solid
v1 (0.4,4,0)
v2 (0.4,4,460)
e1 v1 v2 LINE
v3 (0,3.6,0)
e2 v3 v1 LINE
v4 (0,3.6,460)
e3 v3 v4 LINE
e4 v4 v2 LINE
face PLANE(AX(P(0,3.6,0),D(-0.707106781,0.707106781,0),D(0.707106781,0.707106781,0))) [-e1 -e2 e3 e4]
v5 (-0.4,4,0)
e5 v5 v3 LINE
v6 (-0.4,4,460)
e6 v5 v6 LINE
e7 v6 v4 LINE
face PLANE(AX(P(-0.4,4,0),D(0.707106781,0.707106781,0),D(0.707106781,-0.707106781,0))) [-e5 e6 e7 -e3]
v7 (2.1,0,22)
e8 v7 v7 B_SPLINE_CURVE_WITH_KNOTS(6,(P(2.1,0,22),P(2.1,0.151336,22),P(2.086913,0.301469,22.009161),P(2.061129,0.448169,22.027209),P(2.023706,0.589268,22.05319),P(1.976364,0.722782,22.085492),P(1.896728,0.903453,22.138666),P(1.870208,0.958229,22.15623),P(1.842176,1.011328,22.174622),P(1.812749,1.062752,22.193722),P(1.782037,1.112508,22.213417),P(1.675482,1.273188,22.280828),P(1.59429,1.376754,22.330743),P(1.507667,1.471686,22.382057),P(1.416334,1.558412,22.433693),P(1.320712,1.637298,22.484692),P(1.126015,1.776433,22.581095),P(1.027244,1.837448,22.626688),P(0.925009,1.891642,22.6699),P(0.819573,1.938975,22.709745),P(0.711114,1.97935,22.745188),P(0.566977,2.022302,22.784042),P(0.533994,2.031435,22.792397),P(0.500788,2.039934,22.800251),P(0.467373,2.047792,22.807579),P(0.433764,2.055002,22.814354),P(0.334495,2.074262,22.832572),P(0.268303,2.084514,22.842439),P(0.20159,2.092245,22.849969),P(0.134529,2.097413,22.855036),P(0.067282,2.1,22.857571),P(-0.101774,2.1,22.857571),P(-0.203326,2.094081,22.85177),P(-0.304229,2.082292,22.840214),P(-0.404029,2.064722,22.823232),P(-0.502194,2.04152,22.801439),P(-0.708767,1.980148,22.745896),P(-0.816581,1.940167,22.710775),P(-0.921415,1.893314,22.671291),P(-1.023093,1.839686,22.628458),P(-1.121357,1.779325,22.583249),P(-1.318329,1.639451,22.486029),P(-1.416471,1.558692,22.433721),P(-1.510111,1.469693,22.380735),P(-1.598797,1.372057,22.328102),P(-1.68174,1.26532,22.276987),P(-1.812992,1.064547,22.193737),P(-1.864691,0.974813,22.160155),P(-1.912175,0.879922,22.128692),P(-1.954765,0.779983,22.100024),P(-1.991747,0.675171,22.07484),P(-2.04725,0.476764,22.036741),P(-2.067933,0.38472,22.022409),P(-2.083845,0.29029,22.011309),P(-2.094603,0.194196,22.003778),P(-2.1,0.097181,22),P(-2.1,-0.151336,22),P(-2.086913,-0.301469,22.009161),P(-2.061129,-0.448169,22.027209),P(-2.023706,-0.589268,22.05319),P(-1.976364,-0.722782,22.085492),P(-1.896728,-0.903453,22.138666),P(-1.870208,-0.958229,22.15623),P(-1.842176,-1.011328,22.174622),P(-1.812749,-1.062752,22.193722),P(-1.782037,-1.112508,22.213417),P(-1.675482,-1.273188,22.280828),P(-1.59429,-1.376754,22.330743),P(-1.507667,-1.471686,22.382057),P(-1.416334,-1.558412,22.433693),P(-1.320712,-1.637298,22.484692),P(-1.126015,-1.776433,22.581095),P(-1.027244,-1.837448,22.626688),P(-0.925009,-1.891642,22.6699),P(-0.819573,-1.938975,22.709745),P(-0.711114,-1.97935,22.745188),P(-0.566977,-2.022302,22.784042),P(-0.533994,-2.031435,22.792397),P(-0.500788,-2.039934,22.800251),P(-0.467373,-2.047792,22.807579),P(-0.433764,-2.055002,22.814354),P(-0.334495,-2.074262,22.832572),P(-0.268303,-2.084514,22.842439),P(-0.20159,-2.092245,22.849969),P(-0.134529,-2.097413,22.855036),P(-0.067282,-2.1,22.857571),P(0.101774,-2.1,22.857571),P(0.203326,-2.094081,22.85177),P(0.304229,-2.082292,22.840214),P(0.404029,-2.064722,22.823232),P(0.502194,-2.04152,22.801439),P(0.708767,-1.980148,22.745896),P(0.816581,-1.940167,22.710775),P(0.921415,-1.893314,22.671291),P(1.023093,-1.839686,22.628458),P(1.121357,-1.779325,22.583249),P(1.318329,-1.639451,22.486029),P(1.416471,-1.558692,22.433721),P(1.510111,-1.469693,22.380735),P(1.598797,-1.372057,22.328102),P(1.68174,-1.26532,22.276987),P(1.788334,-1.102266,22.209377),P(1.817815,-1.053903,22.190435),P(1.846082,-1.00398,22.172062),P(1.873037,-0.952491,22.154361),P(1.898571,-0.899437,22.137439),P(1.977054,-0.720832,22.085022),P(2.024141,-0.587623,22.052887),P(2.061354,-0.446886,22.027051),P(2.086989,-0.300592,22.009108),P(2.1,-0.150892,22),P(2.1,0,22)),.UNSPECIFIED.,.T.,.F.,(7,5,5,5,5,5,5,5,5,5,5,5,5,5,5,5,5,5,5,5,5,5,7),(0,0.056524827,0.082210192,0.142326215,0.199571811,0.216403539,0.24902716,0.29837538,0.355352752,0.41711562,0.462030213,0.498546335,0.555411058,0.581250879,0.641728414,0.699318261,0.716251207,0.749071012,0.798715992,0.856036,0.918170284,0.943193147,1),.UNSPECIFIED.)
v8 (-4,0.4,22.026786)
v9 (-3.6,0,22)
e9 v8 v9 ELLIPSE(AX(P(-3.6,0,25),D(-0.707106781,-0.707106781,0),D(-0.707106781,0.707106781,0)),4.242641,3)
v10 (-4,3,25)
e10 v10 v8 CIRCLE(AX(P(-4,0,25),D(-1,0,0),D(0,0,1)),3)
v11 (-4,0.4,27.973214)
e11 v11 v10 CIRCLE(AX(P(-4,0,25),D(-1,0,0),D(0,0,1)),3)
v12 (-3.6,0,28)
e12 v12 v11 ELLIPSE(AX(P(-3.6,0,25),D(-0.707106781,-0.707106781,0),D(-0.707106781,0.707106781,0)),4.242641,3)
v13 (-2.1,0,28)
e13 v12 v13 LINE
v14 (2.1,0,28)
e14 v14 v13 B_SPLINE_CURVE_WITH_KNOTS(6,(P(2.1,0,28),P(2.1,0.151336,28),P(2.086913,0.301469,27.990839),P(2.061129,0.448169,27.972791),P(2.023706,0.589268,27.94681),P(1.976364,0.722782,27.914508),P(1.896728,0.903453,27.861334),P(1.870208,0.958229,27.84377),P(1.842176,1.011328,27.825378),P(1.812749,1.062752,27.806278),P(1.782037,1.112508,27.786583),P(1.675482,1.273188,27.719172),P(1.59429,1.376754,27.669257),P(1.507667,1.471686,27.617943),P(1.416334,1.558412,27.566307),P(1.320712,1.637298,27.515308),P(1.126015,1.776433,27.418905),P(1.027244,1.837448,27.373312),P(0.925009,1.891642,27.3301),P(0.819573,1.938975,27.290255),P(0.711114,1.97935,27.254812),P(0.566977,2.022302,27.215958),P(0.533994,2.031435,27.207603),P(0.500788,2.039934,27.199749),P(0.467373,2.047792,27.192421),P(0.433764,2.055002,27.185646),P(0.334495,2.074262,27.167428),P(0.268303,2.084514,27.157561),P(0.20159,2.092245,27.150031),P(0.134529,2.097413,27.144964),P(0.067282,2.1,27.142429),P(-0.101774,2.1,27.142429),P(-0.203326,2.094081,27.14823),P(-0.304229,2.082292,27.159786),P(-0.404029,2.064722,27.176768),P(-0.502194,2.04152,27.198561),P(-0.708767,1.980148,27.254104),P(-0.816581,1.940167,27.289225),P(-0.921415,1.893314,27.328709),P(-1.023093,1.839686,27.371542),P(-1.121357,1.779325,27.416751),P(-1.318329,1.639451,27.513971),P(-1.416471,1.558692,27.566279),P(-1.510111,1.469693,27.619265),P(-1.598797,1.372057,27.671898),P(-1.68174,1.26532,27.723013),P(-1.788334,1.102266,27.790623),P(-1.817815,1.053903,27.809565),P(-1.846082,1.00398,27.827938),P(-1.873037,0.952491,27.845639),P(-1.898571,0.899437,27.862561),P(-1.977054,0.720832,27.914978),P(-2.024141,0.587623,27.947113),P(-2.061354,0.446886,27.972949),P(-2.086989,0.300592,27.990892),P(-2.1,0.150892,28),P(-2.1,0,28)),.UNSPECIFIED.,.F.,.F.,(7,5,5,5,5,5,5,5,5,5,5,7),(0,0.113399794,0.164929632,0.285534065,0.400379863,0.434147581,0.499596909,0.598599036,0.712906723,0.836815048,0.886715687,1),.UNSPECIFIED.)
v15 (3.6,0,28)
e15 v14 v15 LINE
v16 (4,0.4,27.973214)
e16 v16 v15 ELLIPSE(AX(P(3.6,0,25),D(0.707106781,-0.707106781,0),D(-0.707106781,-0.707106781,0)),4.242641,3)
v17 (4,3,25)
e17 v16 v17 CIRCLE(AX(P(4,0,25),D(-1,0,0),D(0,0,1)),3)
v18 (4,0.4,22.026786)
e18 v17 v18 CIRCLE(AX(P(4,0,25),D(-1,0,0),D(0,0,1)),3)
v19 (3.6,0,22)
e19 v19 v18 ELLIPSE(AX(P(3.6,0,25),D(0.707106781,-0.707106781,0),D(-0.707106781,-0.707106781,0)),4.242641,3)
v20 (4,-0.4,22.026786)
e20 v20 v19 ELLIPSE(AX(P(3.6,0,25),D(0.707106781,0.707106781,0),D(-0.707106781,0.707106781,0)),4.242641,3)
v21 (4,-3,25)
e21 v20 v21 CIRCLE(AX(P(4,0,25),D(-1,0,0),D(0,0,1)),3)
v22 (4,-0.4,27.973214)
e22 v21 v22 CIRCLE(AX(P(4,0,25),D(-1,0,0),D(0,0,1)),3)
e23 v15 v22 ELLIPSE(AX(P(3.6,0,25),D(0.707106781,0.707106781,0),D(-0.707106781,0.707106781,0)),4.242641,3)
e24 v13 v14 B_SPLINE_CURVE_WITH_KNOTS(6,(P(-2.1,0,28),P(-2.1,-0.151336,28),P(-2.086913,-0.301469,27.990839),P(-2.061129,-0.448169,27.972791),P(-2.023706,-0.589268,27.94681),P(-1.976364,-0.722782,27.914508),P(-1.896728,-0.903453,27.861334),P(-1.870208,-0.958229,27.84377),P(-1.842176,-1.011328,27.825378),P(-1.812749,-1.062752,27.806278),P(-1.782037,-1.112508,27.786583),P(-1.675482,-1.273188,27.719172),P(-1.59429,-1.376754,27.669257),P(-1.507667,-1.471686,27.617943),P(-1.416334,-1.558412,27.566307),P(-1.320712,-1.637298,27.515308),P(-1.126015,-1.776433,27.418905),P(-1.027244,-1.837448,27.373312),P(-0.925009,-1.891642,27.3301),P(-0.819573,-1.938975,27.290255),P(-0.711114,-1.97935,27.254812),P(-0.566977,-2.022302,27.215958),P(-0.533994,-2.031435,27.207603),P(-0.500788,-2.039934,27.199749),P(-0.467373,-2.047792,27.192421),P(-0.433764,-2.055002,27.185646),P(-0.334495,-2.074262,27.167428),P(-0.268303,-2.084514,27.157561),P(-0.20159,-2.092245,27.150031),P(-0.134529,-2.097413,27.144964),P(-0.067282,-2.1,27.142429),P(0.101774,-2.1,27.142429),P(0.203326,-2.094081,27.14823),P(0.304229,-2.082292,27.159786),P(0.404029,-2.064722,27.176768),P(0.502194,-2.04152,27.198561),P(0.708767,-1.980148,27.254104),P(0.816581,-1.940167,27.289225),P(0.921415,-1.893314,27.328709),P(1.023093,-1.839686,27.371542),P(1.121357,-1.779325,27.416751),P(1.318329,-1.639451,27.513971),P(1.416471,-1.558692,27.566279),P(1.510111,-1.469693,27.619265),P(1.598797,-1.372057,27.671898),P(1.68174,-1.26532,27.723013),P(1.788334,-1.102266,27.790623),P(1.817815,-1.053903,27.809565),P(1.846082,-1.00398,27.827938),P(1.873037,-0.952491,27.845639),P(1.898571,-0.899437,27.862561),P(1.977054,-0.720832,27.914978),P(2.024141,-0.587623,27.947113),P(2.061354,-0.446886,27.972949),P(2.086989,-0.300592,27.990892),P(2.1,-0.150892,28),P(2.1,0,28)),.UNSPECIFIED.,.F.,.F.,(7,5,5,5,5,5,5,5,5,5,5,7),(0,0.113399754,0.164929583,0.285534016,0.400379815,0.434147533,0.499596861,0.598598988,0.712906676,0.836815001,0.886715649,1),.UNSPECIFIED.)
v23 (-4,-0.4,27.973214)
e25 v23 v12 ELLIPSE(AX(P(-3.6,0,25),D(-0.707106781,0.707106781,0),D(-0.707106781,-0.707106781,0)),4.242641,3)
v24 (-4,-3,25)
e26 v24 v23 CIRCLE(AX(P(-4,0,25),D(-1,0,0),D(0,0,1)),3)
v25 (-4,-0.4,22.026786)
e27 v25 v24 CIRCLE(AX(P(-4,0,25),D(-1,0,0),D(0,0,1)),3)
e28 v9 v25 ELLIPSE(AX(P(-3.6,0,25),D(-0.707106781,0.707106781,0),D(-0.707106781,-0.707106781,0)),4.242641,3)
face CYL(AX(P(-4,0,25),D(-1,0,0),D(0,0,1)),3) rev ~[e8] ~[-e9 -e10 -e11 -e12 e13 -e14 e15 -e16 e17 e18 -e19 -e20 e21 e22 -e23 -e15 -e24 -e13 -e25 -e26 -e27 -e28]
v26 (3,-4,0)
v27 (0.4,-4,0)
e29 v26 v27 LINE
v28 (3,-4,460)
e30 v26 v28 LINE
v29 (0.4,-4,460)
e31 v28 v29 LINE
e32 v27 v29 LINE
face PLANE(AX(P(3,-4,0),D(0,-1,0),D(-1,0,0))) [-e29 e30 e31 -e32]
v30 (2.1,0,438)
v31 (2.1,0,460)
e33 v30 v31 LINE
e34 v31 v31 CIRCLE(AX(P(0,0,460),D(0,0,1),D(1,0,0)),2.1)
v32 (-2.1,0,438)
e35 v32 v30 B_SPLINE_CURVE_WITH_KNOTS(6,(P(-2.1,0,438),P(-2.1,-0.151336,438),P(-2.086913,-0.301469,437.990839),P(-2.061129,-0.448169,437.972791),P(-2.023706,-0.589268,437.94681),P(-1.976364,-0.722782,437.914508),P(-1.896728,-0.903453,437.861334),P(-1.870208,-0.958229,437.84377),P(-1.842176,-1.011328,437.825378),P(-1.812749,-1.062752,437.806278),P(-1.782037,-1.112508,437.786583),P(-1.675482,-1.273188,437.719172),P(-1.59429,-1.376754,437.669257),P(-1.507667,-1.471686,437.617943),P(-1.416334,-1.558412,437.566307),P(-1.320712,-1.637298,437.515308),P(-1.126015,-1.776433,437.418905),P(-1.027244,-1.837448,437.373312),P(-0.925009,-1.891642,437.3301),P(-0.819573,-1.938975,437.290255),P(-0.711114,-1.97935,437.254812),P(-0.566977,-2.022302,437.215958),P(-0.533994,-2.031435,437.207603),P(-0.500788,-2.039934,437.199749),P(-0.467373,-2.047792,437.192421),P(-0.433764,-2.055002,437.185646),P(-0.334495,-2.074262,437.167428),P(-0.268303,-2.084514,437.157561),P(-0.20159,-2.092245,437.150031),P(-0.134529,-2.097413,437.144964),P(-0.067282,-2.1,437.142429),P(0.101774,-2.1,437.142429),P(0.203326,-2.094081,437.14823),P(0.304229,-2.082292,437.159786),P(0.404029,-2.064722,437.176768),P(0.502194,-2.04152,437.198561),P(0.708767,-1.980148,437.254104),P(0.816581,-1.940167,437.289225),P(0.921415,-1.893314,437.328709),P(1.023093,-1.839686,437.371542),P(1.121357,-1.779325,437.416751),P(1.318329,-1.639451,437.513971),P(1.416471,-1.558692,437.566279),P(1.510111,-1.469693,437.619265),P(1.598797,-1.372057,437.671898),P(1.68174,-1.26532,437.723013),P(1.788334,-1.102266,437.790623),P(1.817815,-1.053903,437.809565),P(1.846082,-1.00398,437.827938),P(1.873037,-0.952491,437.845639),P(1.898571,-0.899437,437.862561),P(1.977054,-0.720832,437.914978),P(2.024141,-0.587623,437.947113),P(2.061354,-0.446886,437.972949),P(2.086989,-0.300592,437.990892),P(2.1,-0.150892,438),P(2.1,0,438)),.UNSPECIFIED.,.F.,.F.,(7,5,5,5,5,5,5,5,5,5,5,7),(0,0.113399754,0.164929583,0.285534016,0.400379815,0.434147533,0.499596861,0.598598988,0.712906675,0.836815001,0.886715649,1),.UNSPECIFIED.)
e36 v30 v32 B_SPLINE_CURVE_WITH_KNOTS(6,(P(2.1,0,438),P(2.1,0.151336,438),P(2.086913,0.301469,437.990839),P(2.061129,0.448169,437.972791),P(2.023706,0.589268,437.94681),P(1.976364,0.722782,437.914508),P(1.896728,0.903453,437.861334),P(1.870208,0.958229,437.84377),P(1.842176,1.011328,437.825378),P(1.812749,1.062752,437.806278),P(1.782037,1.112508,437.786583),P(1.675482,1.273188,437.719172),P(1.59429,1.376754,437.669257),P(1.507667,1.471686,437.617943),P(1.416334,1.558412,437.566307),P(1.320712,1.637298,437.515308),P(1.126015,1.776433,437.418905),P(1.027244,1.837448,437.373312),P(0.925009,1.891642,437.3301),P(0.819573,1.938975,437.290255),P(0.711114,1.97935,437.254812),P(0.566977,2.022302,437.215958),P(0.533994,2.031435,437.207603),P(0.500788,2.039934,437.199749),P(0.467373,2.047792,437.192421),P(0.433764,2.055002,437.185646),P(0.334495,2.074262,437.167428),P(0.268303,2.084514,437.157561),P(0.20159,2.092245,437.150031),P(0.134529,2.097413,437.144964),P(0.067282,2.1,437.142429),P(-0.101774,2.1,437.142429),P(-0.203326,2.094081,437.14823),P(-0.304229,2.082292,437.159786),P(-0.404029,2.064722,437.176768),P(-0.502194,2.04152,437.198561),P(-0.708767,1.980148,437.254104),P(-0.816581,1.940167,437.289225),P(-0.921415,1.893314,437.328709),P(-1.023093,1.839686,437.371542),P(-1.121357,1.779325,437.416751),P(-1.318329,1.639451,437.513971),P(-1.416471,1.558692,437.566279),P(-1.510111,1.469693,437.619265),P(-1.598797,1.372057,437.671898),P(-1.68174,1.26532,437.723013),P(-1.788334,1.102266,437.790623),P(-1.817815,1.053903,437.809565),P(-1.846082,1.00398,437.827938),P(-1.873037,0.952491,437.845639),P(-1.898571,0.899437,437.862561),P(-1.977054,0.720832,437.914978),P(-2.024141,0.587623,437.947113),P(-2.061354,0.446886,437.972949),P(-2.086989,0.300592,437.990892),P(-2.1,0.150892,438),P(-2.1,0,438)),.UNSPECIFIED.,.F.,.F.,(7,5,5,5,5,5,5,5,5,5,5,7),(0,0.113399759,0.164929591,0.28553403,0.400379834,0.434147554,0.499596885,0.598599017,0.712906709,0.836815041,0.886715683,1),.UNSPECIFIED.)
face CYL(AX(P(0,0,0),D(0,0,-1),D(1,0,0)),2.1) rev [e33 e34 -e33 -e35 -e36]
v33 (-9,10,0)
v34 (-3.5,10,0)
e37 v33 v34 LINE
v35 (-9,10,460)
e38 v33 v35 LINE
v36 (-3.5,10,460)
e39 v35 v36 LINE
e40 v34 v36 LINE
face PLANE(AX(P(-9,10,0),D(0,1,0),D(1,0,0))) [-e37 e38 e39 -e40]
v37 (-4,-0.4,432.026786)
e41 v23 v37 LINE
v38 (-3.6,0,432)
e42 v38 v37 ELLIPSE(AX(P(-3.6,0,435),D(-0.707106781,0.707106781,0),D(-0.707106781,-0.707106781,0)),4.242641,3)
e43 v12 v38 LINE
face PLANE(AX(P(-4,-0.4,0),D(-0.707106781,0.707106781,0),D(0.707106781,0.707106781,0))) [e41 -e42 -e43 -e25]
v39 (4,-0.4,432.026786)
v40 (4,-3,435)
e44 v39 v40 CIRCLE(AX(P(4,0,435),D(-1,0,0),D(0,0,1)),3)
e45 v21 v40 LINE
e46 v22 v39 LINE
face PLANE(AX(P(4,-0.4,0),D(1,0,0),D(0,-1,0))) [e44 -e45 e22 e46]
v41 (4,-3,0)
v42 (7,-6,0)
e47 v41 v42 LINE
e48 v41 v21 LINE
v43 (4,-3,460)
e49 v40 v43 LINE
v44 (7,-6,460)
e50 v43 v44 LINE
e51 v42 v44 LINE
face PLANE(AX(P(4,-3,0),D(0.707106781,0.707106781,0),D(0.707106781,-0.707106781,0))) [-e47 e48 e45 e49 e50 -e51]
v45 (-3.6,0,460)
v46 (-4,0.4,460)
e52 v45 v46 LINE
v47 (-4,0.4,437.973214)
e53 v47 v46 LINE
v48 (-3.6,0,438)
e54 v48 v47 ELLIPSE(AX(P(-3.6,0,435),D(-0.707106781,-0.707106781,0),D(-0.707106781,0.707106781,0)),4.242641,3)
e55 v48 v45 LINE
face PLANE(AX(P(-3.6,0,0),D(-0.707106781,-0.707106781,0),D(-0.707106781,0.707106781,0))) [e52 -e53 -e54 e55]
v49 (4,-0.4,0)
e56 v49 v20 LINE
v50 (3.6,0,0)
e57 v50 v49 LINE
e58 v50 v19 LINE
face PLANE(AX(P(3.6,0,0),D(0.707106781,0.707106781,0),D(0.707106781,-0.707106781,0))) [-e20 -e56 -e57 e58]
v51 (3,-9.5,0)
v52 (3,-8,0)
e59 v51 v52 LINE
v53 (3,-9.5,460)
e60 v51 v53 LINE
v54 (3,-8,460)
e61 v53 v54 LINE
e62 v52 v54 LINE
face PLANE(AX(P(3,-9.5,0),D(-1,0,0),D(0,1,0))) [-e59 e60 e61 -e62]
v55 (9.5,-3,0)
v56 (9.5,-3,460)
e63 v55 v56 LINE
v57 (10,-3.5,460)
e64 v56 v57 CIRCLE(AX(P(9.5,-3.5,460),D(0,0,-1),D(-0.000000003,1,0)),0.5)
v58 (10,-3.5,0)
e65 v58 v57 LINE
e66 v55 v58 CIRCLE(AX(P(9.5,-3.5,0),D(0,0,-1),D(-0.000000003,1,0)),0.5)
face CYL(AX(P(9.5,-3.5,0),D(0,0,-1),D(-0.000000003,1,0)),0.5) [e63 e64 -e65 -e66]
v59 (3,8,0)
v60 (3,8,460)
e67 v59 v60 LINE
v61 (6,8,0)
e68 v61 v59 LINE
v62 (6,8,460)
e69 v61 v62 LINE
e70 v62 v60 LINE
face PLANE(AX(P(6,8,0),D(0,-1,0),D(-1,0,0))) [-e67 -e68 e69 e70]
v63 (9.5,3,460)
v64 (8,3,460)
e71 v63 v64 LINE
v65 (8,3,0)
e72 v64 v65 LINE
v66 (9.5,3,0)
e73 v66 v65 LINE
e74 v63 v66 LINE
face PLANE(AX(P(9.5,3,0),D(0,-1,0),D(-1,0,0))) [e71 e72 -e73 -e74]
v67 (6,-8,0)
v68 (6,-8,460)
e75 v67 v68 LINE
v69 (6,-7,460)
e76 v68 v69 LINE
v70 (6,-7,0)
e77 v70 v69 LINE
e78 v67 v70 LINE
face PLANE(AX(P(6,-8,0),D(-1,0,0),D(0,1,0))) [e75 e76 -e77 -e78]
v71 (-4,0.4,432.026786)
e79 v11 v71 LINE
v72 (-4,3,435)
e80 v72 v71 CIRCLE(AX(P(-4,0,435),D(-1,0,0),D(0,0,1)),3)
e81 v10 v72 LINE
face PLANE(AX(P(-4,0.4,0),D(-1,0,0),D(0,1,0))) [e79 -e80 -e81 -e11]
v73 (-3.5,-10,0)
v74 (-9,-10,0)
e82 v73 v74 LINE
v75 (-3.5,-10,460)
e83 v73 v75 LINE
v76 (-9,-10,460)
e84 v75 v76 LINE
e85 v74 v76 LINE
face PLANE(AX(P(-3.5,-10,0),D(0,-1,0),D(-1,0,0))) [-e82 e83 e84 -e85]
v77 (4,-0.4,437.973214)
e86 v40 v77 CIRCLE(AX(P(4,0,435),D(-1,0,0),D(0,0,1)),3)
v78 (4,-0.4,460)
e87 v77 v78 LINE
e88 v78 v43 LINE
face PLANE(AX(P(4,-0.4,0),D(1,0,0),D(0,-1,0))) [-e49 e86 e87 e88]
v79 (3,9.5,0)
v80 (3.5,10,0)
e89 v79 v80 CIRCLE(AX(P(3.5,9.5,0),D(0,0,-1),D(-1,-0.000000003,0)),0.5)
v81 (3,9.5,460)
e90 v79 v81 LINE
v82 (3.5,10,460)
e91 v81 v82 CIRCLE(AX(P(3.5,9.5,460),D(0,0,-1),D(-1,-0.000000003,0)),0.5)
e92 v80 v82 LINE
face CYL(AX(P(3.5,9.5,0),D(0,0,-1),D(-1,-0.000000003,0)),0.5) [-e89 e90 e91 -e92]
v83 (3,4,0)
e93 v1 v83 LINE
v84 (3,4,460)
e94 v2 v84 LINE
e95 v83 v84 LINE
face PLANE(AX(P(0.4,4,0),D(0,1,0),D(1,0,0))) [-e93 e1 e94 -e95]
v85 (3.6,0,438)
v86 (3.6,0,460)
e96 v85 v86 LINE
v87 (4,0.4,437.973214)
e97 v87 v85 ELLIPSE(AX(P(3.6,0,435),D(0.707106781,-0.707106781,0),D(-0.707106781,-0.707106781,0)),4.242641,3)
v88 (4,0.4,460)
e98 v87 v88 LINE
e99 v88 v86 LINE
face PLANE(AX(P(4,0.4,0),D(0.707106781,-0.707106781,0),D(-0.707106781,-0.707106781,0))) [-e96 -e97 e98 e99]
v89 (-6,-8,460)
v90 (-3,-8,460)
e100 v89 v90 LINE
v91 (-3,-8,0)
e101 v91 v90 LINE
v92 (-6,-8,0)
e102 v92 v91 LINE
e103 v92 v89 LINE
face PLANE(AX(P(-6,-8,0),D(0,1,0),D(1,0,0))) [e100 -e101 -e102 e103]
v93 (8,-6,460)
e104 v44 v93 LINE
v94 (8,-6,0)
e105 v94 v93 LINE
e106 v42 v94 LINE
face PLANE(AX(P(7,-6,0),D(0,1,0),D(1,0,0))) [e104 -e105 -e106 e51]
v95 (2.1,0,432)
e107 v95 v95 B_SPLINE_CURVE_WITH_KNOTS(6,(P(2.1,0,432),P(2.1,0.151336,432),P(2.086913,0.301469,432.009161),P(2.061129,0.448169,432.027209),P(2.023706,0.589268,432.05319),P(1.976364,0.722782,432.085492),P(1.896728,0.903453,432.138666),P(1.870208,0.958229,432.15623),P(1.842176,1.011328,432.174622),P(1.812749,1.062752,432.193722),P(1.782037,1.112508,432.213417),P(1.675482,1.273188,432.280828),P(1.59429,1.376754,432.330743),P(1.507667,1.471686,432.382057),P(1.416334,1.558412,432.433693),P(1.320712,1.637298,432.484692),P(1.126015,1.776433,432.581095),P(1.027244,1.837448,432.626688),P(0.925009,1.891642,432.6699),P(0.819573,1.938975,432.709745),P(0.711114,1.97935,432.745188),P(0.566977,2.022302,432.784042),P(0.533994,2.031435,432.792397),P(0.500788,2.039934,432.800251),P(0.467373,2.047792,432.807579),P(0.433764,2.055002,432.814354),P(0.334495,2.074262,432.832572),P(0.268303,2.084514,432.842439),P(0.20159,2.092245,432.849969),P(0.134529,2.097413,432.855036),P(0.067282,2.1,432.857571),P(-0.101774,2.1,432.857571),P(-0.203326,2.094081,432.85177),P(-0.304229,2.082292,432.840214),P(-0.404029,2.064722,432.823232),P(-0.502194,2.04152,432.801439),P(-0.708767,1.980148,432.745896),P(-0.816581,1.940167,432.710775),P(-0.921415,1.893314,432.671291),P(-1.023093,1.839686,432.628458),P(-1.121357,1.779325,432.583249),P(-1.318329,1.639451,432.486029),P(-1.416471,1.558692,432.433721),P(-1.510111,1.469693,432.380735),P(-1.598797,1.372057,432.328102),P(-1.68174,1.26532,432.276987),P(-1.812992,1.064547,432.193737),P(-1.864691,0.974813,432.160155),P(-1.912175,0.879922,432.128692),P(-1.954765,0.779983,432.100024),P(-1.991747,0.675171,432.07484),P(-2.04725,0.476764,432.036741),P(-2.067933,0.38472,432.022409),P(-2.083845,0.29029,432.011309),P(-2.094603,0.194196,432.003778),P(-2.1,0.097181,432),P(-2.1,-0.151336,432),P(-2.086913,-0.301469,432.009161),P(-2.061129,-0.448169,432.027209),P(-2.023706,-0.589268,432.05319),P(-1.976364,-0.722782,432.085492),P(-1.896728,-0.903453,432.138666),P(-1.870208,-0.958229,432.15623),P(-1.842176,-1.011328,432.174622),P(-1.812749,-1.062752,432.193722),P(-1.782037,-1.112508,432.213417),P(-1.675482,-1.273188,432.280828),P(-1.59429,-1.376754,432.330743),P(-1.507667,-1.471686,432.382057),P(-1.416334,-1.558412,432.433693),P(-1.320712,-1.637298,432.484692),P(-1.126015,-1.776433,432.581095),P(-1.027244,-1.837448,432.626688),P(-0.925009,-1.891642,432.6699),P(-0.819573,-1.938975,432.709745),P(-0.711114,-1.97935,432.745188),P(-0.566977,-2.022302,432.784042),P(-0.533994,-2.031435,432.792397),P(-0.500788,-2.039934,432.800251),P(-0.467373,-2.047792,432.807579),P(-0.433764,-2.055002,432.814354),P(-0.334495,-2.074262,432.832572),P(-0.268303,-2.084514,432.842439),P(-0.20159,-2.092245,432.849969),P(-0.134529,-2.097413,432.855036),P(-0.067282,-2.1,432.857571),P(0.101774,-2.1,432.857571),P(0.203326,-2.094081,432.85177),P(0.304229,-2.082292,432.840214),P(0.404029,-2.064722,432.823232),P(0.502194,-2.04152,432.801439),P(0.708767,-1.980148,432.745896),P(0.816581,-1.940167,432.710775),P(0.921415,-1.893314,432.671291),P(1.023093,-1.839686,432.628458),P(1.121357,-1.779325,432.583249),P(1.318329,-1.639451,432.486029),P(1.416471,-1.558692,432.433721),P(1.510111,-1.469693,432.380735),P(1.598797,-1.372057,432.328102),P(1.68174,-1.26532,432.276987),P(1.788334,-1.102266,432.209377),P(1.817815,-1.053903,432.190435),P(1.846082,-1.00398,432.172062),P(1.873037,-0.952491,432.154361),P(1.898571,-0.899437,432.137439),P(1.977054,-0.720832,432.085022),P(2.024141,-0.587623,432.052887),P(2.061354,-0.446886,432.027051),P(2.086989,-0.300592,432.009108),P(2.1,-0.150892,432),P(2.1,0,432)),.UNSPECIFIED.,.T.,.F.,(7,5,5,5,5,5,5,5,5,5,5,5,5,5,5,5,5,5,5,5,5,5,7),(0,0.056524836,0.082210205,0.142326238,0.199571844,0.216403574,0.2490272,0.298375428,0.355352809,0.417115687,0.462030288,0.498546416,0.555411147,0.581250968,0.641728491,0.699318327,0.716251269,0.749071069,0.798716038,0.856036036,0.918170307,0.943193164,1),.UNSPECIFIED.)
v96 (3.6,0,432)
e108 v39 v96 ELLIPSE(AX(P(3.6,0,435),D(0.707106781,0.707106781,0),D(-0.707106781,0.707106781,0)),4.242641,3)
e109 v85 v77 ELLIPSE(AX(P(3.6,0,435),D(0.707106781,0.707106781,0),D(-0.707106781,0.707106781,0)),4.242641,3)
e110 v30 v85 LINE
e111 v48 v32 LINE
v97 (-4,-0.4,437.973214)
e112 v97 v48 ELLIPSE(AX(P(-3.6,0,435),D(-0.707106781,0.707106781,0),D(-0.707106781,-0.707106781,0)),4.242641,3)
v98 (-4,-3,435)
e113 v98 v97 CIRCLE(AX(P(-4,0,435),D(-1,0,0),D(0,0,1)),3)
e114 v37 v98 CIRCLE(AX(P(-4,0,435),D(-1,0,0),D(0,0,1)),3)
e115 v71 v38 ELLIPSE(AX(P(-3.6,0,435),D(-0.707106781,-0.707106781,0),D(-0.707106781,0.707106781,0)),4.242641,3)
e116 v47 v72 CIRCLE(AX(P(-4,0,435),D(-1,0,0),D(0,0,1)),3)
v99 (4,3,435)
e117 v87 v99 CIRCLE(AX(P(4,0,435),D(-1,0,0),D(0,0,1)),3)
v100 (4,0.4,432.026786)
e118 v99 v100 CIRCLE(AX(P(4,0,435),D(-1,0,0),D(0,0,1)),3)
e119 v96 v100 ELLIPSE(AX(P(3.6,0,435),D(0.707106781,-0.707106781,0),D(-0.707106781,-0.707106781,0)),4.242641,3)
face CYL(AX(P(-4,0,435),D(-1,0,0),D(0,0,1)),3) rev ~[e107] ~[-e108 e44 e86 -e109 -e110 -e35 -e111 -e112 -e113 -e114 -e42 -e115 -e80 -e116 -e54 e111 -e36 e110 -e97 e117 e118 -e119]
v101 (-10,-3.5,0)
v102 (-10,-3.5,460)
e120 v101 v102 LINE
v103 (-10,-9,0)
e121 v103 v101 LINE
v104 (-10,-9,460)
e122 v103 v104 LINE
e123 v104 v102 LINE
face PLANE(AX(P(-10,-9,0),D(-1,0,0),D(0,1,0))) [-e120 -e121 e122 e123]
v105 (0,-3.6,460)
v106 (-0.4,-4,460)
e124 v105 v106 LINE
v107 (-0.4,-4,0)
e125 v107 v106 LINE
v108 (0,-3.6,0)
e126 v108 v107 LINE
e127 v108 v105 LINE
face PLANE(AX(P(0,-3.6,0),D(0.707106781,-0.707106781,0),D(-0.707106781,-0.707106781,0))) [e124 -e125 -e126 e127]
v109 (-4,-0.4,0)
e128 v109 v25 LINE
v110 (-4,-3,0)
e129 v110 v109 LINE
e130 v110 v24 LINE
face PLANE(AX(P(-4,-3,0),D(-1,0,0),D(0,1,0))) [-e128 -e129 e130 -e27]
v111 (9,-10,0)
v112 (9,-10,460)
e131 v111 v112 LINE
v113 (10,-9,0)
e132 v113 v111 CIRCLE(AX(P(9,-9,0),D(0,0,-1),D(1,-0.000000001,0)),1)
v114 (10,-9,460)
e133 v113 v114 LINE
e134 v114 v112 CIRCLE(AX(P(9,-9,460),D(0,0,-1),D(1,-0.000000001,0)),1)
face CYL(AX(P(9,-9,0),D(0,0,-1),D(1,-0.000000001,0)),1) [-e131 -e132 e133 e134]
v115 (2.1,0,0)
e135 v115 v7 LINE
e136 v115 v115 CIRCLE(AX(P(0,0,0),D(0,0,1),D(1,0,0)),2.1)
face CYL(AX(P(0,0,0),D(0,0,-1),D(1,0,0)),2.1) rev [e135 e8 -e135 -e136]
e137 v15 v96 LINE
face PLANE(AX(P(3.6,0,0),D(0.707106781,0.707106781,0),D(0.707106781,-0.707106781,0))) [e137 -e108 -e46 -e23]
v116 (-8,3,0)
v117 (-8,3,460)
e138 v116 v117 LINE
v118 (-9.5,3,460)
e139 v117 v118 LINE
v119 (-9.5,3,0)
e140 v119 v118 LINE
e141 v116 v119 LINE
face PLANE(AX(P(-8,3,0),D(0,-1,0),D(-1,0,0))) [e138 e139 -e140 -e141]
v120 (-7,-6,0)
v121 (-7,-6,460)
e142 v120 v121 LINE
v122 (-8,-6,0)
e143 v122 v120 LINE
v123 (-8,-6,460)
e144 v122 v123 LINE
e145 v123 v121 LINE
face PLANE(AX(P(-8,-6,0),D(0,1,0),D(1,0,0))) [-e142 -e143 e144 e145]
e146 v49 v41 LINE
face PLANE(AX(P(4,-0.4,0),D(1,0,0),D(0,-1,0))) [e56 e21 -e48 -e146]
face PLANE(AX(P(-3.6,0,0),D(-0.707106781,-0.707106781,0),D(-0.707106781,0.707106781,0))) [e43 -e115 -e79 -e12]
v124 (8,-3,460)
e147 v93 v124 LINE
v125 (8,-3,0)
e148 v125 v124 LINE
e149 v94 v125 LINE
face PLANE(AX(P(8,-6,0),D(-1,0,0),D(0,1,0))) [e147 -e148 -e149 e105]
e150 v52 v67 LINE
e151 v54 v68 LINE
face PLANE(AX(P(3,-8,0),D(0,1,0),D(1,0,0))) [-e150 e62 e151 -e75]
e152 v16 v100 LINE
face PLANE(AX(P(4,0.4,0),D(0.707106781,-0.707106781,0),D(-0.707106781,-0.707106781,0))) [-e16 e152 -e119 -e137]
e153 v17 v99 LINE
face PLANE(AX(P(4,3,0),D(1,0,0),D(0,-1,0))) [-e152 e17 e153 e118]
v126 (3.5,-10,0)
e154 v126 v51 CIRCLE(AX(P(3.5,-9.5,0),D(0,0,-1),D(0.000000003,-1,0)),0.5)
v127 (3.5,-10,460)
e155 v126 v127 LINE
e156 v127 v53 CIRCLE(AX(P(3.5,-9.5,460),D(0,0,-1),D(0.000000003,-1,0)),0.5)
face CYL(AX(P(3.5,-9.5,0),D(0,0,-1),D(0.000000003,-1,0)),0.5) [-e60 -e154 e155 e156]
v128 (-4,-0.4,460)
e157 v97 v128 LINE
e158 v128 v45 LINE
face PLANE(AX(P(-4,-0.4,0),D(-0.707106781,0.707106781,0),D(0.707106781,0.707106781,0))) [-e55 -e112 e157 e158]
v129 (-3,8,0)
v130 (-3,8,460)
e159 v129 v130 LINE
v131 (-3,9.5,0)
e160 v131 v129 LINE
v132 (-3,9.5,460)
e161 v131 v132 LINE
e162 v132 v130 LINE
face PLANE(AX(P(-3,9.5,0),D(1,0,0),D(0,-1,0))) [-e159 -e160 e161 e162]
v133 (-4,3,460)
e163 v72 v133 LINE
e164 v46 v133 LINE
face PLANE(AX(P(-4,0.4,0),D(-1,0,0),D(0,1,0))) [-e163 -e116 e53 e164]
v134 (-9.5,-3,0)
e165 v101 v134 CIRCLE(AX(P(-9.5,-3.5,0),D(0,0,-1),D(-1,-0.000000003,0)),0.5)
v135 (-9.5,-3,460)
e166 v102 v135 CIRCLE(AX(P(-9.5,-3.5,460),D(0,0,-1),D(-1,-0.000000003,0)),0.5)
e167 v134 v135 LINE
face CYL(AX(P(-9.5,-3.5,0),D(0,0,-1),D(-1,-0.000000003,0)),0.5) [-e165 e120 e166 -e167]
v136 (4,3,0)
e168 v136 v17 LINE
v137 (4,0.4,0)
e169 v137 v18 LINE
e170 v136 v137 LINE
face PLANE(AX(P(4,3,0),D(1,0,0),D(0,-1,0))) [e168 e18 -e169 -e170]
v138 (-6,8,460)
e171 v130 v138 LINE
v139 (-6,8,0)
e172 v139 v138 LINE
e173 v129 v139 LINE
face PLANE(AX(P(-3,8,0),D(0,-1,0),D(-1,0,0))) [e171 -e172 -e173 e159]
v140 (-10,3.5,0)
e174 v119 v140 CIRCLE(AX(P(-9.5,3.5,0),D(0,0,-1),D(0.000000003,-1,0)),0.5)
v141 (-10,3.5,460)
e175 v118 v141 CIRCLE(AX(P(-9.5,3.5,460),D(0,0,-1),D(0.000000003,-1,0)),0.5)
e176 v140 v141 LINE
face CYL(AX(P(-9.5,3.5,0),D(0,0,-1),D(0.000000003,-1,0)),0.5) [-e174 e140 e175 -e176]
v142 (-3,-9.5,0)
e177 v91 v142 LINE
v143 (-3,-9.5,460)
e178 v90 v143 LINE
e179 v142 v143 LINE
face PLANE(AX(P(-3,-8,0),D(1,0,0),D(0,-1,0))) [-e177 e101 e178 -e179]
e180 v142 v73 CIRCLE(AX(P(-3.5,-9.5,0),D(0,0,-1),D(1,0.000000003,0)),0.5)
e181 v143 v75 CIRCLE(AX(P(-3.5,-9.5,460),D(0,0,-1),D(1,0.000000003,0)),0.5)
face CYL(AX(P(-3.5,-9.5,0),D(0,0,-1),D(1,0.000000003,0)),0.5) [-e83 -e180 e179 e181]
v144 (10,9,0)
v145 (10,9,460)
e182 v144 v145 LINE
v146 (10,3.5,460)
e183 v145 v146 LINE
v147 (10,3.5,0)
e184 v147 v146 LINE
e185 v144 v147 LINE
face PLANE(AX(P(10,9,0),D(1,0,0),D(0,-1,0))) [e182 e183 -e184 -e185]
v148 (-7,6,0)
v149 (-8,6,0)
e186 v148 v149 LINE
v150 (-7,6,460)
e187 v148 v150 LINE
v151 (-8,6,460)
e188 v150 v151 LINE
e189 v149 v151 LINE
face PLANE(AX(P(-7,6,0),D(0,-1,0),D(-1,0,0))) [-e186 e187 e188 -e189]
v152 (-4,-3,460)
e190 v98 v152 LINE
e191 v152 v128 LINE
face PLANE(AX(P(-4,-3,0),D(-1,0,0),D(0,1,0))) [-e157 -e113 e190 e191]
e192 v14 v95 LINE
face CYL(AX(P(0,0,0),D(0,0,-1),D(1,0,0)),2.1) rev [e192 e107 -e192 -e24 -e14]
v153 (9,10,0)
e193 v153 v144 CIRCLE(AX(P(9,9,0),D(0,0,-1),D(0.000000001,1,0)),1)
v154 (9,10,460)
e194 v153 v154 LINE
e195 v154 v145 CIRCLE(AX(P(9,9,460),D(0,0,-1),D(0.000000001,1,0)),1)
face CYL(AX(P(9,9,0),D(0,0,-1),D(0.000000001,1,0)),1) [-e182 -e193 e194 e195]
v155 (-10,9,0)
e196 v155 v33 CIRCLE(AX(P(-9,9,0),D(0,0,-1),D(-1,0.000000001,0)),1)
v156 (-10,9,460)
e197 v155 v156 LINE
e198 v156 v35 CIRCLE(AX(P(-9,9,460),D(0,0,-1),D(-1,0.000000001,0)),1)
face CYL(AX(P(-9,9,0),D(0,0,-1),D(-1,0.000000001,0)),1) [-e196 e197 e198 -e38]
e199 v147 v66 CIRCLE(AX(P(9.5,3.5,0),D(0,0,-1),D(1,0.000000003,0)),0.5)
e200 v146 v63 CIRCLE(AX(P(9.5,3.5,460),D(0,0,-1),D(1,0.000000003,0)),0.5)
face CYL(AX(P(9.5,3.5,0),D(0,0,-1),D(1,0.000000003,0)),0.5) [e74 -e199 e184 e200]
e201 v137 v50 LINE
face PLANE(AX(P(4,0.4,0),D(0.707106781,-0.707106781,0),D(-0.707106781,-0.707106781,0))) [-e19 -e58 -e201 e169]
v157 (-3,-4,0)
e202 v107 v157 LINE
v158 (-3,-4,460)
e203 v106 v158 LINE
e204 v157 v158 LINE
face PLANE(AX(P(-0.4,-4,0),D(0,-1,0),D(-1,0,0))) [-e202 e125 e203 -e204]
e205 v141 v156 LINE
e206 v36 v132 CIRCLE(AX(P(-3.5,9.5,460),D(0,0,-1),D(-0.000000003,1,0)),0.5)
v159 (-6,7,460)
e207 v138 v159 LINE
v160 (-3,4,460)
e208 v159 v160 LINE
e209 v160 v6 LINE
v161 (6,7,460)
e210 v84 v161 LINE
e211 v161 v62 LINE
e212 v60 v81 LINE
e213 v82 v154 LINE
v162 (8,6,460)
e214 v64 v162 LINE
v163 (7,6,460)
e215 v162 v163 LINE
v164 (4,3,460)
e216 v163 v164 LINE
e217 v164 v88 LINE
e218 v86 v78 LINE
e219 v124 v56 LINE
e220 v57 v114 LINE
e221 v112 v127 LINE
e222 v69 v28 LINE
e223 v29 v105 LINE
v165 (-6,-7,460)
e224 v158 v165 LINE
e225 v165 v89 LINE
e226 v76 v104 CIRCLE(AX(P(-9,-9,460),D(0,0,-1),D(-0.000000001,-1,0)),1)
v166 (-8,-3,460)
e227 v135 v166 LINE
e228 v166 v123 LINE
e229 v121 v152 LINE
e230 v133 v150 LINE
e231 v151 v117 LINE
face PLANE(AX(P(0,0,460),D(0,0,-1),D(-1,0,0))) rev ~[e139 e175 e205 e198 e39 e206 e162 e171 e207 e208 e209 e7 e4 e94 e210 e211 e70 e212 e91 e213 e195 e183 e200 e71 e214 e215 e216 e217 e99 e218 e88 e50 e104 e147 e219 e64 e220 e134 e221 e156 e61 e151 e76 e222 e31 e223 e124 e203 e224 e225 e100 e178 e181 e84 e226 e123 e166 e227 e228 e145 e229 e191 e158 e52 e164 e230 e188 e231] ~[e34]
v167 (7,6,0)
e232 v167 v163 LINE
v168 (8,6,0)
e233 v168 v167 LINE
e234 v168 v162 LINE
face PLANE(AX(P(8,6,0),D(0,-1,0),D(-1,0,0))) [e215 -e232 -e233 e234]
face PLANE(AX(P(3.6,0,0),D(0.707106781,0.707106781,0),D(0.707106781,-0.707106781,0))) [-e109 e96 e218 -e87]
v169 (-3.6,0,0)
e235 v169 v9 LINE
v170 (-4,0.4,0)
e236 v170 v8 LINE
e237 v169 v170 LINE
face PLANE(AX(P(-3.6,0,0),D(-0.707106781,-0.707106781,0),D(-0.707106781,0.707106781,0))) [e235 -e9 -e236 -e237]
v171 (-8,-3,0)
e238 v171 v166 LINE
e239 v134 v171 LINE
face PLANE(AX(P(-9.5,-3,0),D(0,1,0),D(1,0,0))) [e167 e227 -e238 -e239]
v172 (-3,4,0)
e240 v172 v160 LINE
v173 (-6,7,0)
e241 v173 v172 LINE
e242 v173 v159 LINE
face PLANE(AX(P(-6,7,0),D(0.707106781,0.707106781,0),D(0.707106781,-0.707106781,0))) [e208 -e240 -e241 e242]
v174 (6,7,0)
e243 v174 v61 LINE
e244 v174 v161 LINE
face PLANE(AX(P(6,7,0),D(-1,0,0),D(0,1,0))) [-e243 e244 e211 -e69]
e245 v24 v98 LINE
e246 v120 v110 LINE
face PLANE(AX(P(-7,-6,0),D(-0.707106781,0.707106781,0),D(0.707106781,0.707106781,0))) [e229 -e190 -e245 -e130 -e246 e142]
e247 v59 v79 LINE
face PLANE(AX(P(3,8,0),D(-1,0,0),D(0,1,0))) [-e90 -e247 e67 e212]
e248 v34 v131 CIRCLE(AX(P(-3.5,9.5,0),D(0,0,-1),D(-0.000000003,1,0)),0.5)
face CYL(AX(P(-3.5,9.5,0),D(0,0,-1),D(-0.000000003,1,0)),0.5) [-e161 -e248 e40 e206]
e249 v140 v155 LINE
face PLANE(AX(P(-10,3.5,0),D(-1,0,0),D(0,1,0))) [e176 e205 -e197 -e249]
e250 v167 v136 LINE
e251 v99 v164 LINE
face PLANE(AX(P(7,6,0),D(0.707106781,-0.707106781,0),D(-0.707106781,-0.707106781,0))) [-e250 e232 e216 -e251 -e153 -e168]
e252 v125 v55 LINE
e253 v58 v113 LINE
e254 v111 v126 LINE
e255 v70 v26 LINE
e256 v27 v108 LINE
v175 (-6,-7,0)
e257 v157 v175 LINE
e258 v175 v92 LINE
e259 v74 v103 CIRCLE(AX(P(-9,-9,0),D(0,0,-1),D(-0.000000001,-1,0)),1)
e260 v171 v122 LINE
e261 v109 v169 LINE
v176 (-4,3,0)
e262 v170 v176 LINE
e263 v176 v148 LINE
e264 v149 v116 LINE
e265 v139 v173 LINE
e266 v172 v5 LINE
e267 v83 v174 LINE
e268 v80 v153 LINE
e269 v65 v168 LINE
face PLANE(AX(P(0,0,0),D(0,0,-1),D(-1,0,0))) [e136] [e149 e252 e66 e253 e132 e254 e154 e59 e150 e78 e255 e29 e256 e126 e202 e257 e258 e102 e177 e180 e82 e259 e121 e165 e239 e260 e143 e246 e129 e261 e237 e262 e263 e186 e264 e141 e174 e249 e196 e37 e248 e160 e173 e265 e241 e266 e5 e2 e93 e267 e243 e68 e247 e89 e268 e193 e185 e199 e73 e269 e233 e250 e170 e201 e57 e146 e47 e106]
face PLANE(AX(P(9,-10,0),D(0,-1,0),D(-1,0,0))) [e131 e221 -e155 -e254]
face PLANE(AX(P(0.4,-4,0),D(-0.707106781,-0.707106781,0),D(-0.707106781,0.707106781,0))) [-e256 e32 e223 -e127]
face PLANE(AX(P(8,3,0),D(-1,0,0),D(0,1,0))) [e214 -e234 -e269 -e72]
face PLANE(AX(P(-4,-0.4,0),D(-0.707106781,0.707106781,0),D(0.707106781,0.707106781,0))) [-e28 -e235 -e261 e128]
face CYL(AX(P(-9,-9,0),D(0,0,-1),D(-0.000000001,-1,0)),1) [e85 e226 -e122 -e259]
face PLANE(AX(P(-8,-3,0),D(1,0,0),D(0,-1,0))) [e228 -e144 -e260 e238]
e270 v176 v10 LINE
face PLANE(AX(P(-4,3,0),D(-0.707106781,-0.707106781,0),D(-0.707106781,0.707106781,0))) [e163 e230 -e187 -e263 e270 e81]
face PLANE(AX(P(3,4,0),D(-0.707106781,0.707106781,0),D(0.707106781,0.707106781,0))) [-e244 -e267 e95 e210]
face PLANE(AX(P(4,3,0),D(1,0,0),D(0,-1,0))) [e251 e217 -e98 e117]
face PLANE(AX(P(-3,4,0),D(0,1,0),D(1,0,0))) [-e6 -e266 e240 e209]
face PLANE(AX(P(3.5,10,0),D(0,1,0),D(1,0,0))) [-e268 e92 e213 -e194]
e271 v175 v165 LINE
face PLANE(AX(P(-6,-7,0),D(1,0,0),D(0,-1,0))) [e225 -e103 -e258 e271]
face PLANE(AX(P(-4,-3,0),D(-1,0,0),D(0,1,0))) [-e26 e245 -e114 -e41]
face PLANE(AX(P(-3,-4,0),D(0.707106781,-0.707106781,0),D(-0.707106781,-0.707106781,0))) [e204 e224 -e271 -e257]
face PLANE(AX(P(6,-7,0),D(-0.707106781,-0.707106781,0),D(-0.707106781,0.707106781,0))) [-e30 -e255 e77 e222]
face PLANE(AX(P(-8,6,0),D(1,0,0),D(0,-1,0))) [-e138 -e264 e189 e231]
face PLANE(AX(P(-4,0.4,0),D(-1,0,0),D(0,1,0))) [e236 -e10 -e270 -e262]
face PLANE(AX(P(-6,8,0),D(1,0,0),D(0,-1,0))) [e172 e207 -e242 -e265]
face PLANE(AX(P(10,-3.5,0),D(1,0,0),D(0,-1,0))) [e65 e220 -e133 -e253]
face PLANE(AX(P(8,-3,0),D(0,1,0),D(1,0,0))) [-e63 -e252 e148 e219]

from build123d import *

# Parameters (mm, degrees)
SCHIZZO1_R                   = 2.1
ESTRUSIONE_ESTRUSIONE1_DEPTH = 460
SCHIZZO2_R                   = 3
TAGLIO_ESTRUSIONE1_DEPTH     = 15


with BuildPart() as part:
    # Schizzo1 → Estrusione-Estrusione1 (new body)
    with BuildSketch(Plane.XY):
        with BuildLine():
            Line((-3.6, 0), (-4, 0.4))
            Line((-4, 0.4), (-4, 3))
            Line((-4, 3), (-7, 6))
            Line((-7, 6), (-8, 6))
            Line((-8, 6), (-8, 3))
            Line((-8, 3), (-9.5, 3))
            ThreePointArc((-9.5, 3), (-9.853553391, 3.146446609), (-10, 3.5))
            Line((-10, 3.5), (-10, 9))
            ThreePointArc((-10, 9), (-9.707106781, 9.707106781), (-9, 10))
            Line((-9, 10), (-3.5, 10))
            ThreePointArc((-3.5, 10), (-3.146446609, 9.853553391), (-3, 9.5))
            Line((-3, 9.5), (-3, 8))
            Line((-3, 8), (-6, 8))
            Line((-6, 8), (-6, 7))
            Line((-6, 7), (-3, 4))
            Line((-3, 4), (-0.4, 4))
            Line((-0.4, 4), (0, 3.6))
            Line((0, 3.6), (0.4, 4))
            Line((0.4, 4), (3, 4))
            Line((3, 4), (6, 7))
            Line((6, 7), (6, 8))
            Line((6, 8), (3, 8))
            Line((3, 8), (3, 9.5))
            ThreePointArc((3, 9.5), (3.146446609, 9.853553391), (3.5, 10))
            Line((3.5, 10), (9, 10))
            ThreePointArc((9, 10), (9.707106781, 9.707106781), (10, 9))
            Line((10, 9), (10, 3.5))
            ThreePointArc((10, 3.5), (9.853553391, 3.146446609), (9.5, 3))
            Line((9.5, 3), (8, 3))
            Line((8, 3), (8, 6))
            Line((8, 6), (7, 6))
            Line((7, 6), (4, 3))
            Line((4, 3), (4, 0.4))
            Line((4, 0.4), (3.6, 0))
            Line((3.6, 0), (4, -0.4))
            Line((4, -0.4), (4, -3))
            Line((4, -3), (7, -6))
            Line((7, -6), (8, -6))
            Line((8, -6), (8, -3))
            Line((8, -3), (9.5, -3))
            ThreePointArc((9.5, -3), (9.853553391, -3.146446609), (10, -3.5))
            Line((10, -3.5), (10, -9))
            ThreePointArc((10, -9), (9.707106781, -9.707106781), (9, -10))
            Line((9, -10), (3.5, -10))
            ThreePointArc((3.5, -10), (3.146446609, -9.853553391), (3, -9.5))
            Line((3, -9.5), (3, -8))
            Line((3, -8), (6, -8))
            Line((6, -8), (6, -7))
            Line((6, -7), (3, -4))
            Line((3, -4), (0.4, -4))
            Line((0.4, -4), (0, -3.6))
            Line((0, -3.6), (-0.4, -4))
            Line((-0.4, -4), (-3, -4))
            Line((-3, -4), (-6, -7))
            Line((-6, -7), (-6, -8))
            Line((-6, -8), (-3, -8))
            Line((-3, -8), (-3, -9.5))
            ThreePointArc((-3, -9.5), (-3.146446609, -9.853553391), (-3.5, -10))
            Line((-3.5, -10), (-9, -10))
            ThreePointArc((-9, -10), (-9.707106781, -9.707106781), (-10, -9))
            Line((-10, -9), (-10, -3.5))
            ThreePointArc((-10, -3.5), (-9.853553391, -3.146446609), (-9.5, -3))
            Line((-9.5, -3), (-8, -3))
            Line((-8, -3), (-8, -6))
            Line((-8, -6), (-7, -6))
            Line((-7, -6), (-4, -3))
            Line((-4, -3), (-4, -0.4))
            Line((-4, -0.4), (-3.6, 0))
        make_face()
        Circle(SCHIZZO1_R, mode=Mode.SUBTRACT)
    extrude(amount=ESTRUSIONE_ESTRUSIONE1_DEPTH)

    # Schizzo2 → Taglio-Estrusione1 (cut, through all)
    with BuildSketch(Plane.ZY.offset(4)):
        with Locations((25, 0)):
            Circle(SCHIZZO2_R)
        with Locations((435, 0)):
            Circle(SCHIZZO2_R)
    extrude(amount=-TAGLIO_ESTRUSIONE1_DEPTH, mode=Mode.SUBTRACT)


solid = part.part
